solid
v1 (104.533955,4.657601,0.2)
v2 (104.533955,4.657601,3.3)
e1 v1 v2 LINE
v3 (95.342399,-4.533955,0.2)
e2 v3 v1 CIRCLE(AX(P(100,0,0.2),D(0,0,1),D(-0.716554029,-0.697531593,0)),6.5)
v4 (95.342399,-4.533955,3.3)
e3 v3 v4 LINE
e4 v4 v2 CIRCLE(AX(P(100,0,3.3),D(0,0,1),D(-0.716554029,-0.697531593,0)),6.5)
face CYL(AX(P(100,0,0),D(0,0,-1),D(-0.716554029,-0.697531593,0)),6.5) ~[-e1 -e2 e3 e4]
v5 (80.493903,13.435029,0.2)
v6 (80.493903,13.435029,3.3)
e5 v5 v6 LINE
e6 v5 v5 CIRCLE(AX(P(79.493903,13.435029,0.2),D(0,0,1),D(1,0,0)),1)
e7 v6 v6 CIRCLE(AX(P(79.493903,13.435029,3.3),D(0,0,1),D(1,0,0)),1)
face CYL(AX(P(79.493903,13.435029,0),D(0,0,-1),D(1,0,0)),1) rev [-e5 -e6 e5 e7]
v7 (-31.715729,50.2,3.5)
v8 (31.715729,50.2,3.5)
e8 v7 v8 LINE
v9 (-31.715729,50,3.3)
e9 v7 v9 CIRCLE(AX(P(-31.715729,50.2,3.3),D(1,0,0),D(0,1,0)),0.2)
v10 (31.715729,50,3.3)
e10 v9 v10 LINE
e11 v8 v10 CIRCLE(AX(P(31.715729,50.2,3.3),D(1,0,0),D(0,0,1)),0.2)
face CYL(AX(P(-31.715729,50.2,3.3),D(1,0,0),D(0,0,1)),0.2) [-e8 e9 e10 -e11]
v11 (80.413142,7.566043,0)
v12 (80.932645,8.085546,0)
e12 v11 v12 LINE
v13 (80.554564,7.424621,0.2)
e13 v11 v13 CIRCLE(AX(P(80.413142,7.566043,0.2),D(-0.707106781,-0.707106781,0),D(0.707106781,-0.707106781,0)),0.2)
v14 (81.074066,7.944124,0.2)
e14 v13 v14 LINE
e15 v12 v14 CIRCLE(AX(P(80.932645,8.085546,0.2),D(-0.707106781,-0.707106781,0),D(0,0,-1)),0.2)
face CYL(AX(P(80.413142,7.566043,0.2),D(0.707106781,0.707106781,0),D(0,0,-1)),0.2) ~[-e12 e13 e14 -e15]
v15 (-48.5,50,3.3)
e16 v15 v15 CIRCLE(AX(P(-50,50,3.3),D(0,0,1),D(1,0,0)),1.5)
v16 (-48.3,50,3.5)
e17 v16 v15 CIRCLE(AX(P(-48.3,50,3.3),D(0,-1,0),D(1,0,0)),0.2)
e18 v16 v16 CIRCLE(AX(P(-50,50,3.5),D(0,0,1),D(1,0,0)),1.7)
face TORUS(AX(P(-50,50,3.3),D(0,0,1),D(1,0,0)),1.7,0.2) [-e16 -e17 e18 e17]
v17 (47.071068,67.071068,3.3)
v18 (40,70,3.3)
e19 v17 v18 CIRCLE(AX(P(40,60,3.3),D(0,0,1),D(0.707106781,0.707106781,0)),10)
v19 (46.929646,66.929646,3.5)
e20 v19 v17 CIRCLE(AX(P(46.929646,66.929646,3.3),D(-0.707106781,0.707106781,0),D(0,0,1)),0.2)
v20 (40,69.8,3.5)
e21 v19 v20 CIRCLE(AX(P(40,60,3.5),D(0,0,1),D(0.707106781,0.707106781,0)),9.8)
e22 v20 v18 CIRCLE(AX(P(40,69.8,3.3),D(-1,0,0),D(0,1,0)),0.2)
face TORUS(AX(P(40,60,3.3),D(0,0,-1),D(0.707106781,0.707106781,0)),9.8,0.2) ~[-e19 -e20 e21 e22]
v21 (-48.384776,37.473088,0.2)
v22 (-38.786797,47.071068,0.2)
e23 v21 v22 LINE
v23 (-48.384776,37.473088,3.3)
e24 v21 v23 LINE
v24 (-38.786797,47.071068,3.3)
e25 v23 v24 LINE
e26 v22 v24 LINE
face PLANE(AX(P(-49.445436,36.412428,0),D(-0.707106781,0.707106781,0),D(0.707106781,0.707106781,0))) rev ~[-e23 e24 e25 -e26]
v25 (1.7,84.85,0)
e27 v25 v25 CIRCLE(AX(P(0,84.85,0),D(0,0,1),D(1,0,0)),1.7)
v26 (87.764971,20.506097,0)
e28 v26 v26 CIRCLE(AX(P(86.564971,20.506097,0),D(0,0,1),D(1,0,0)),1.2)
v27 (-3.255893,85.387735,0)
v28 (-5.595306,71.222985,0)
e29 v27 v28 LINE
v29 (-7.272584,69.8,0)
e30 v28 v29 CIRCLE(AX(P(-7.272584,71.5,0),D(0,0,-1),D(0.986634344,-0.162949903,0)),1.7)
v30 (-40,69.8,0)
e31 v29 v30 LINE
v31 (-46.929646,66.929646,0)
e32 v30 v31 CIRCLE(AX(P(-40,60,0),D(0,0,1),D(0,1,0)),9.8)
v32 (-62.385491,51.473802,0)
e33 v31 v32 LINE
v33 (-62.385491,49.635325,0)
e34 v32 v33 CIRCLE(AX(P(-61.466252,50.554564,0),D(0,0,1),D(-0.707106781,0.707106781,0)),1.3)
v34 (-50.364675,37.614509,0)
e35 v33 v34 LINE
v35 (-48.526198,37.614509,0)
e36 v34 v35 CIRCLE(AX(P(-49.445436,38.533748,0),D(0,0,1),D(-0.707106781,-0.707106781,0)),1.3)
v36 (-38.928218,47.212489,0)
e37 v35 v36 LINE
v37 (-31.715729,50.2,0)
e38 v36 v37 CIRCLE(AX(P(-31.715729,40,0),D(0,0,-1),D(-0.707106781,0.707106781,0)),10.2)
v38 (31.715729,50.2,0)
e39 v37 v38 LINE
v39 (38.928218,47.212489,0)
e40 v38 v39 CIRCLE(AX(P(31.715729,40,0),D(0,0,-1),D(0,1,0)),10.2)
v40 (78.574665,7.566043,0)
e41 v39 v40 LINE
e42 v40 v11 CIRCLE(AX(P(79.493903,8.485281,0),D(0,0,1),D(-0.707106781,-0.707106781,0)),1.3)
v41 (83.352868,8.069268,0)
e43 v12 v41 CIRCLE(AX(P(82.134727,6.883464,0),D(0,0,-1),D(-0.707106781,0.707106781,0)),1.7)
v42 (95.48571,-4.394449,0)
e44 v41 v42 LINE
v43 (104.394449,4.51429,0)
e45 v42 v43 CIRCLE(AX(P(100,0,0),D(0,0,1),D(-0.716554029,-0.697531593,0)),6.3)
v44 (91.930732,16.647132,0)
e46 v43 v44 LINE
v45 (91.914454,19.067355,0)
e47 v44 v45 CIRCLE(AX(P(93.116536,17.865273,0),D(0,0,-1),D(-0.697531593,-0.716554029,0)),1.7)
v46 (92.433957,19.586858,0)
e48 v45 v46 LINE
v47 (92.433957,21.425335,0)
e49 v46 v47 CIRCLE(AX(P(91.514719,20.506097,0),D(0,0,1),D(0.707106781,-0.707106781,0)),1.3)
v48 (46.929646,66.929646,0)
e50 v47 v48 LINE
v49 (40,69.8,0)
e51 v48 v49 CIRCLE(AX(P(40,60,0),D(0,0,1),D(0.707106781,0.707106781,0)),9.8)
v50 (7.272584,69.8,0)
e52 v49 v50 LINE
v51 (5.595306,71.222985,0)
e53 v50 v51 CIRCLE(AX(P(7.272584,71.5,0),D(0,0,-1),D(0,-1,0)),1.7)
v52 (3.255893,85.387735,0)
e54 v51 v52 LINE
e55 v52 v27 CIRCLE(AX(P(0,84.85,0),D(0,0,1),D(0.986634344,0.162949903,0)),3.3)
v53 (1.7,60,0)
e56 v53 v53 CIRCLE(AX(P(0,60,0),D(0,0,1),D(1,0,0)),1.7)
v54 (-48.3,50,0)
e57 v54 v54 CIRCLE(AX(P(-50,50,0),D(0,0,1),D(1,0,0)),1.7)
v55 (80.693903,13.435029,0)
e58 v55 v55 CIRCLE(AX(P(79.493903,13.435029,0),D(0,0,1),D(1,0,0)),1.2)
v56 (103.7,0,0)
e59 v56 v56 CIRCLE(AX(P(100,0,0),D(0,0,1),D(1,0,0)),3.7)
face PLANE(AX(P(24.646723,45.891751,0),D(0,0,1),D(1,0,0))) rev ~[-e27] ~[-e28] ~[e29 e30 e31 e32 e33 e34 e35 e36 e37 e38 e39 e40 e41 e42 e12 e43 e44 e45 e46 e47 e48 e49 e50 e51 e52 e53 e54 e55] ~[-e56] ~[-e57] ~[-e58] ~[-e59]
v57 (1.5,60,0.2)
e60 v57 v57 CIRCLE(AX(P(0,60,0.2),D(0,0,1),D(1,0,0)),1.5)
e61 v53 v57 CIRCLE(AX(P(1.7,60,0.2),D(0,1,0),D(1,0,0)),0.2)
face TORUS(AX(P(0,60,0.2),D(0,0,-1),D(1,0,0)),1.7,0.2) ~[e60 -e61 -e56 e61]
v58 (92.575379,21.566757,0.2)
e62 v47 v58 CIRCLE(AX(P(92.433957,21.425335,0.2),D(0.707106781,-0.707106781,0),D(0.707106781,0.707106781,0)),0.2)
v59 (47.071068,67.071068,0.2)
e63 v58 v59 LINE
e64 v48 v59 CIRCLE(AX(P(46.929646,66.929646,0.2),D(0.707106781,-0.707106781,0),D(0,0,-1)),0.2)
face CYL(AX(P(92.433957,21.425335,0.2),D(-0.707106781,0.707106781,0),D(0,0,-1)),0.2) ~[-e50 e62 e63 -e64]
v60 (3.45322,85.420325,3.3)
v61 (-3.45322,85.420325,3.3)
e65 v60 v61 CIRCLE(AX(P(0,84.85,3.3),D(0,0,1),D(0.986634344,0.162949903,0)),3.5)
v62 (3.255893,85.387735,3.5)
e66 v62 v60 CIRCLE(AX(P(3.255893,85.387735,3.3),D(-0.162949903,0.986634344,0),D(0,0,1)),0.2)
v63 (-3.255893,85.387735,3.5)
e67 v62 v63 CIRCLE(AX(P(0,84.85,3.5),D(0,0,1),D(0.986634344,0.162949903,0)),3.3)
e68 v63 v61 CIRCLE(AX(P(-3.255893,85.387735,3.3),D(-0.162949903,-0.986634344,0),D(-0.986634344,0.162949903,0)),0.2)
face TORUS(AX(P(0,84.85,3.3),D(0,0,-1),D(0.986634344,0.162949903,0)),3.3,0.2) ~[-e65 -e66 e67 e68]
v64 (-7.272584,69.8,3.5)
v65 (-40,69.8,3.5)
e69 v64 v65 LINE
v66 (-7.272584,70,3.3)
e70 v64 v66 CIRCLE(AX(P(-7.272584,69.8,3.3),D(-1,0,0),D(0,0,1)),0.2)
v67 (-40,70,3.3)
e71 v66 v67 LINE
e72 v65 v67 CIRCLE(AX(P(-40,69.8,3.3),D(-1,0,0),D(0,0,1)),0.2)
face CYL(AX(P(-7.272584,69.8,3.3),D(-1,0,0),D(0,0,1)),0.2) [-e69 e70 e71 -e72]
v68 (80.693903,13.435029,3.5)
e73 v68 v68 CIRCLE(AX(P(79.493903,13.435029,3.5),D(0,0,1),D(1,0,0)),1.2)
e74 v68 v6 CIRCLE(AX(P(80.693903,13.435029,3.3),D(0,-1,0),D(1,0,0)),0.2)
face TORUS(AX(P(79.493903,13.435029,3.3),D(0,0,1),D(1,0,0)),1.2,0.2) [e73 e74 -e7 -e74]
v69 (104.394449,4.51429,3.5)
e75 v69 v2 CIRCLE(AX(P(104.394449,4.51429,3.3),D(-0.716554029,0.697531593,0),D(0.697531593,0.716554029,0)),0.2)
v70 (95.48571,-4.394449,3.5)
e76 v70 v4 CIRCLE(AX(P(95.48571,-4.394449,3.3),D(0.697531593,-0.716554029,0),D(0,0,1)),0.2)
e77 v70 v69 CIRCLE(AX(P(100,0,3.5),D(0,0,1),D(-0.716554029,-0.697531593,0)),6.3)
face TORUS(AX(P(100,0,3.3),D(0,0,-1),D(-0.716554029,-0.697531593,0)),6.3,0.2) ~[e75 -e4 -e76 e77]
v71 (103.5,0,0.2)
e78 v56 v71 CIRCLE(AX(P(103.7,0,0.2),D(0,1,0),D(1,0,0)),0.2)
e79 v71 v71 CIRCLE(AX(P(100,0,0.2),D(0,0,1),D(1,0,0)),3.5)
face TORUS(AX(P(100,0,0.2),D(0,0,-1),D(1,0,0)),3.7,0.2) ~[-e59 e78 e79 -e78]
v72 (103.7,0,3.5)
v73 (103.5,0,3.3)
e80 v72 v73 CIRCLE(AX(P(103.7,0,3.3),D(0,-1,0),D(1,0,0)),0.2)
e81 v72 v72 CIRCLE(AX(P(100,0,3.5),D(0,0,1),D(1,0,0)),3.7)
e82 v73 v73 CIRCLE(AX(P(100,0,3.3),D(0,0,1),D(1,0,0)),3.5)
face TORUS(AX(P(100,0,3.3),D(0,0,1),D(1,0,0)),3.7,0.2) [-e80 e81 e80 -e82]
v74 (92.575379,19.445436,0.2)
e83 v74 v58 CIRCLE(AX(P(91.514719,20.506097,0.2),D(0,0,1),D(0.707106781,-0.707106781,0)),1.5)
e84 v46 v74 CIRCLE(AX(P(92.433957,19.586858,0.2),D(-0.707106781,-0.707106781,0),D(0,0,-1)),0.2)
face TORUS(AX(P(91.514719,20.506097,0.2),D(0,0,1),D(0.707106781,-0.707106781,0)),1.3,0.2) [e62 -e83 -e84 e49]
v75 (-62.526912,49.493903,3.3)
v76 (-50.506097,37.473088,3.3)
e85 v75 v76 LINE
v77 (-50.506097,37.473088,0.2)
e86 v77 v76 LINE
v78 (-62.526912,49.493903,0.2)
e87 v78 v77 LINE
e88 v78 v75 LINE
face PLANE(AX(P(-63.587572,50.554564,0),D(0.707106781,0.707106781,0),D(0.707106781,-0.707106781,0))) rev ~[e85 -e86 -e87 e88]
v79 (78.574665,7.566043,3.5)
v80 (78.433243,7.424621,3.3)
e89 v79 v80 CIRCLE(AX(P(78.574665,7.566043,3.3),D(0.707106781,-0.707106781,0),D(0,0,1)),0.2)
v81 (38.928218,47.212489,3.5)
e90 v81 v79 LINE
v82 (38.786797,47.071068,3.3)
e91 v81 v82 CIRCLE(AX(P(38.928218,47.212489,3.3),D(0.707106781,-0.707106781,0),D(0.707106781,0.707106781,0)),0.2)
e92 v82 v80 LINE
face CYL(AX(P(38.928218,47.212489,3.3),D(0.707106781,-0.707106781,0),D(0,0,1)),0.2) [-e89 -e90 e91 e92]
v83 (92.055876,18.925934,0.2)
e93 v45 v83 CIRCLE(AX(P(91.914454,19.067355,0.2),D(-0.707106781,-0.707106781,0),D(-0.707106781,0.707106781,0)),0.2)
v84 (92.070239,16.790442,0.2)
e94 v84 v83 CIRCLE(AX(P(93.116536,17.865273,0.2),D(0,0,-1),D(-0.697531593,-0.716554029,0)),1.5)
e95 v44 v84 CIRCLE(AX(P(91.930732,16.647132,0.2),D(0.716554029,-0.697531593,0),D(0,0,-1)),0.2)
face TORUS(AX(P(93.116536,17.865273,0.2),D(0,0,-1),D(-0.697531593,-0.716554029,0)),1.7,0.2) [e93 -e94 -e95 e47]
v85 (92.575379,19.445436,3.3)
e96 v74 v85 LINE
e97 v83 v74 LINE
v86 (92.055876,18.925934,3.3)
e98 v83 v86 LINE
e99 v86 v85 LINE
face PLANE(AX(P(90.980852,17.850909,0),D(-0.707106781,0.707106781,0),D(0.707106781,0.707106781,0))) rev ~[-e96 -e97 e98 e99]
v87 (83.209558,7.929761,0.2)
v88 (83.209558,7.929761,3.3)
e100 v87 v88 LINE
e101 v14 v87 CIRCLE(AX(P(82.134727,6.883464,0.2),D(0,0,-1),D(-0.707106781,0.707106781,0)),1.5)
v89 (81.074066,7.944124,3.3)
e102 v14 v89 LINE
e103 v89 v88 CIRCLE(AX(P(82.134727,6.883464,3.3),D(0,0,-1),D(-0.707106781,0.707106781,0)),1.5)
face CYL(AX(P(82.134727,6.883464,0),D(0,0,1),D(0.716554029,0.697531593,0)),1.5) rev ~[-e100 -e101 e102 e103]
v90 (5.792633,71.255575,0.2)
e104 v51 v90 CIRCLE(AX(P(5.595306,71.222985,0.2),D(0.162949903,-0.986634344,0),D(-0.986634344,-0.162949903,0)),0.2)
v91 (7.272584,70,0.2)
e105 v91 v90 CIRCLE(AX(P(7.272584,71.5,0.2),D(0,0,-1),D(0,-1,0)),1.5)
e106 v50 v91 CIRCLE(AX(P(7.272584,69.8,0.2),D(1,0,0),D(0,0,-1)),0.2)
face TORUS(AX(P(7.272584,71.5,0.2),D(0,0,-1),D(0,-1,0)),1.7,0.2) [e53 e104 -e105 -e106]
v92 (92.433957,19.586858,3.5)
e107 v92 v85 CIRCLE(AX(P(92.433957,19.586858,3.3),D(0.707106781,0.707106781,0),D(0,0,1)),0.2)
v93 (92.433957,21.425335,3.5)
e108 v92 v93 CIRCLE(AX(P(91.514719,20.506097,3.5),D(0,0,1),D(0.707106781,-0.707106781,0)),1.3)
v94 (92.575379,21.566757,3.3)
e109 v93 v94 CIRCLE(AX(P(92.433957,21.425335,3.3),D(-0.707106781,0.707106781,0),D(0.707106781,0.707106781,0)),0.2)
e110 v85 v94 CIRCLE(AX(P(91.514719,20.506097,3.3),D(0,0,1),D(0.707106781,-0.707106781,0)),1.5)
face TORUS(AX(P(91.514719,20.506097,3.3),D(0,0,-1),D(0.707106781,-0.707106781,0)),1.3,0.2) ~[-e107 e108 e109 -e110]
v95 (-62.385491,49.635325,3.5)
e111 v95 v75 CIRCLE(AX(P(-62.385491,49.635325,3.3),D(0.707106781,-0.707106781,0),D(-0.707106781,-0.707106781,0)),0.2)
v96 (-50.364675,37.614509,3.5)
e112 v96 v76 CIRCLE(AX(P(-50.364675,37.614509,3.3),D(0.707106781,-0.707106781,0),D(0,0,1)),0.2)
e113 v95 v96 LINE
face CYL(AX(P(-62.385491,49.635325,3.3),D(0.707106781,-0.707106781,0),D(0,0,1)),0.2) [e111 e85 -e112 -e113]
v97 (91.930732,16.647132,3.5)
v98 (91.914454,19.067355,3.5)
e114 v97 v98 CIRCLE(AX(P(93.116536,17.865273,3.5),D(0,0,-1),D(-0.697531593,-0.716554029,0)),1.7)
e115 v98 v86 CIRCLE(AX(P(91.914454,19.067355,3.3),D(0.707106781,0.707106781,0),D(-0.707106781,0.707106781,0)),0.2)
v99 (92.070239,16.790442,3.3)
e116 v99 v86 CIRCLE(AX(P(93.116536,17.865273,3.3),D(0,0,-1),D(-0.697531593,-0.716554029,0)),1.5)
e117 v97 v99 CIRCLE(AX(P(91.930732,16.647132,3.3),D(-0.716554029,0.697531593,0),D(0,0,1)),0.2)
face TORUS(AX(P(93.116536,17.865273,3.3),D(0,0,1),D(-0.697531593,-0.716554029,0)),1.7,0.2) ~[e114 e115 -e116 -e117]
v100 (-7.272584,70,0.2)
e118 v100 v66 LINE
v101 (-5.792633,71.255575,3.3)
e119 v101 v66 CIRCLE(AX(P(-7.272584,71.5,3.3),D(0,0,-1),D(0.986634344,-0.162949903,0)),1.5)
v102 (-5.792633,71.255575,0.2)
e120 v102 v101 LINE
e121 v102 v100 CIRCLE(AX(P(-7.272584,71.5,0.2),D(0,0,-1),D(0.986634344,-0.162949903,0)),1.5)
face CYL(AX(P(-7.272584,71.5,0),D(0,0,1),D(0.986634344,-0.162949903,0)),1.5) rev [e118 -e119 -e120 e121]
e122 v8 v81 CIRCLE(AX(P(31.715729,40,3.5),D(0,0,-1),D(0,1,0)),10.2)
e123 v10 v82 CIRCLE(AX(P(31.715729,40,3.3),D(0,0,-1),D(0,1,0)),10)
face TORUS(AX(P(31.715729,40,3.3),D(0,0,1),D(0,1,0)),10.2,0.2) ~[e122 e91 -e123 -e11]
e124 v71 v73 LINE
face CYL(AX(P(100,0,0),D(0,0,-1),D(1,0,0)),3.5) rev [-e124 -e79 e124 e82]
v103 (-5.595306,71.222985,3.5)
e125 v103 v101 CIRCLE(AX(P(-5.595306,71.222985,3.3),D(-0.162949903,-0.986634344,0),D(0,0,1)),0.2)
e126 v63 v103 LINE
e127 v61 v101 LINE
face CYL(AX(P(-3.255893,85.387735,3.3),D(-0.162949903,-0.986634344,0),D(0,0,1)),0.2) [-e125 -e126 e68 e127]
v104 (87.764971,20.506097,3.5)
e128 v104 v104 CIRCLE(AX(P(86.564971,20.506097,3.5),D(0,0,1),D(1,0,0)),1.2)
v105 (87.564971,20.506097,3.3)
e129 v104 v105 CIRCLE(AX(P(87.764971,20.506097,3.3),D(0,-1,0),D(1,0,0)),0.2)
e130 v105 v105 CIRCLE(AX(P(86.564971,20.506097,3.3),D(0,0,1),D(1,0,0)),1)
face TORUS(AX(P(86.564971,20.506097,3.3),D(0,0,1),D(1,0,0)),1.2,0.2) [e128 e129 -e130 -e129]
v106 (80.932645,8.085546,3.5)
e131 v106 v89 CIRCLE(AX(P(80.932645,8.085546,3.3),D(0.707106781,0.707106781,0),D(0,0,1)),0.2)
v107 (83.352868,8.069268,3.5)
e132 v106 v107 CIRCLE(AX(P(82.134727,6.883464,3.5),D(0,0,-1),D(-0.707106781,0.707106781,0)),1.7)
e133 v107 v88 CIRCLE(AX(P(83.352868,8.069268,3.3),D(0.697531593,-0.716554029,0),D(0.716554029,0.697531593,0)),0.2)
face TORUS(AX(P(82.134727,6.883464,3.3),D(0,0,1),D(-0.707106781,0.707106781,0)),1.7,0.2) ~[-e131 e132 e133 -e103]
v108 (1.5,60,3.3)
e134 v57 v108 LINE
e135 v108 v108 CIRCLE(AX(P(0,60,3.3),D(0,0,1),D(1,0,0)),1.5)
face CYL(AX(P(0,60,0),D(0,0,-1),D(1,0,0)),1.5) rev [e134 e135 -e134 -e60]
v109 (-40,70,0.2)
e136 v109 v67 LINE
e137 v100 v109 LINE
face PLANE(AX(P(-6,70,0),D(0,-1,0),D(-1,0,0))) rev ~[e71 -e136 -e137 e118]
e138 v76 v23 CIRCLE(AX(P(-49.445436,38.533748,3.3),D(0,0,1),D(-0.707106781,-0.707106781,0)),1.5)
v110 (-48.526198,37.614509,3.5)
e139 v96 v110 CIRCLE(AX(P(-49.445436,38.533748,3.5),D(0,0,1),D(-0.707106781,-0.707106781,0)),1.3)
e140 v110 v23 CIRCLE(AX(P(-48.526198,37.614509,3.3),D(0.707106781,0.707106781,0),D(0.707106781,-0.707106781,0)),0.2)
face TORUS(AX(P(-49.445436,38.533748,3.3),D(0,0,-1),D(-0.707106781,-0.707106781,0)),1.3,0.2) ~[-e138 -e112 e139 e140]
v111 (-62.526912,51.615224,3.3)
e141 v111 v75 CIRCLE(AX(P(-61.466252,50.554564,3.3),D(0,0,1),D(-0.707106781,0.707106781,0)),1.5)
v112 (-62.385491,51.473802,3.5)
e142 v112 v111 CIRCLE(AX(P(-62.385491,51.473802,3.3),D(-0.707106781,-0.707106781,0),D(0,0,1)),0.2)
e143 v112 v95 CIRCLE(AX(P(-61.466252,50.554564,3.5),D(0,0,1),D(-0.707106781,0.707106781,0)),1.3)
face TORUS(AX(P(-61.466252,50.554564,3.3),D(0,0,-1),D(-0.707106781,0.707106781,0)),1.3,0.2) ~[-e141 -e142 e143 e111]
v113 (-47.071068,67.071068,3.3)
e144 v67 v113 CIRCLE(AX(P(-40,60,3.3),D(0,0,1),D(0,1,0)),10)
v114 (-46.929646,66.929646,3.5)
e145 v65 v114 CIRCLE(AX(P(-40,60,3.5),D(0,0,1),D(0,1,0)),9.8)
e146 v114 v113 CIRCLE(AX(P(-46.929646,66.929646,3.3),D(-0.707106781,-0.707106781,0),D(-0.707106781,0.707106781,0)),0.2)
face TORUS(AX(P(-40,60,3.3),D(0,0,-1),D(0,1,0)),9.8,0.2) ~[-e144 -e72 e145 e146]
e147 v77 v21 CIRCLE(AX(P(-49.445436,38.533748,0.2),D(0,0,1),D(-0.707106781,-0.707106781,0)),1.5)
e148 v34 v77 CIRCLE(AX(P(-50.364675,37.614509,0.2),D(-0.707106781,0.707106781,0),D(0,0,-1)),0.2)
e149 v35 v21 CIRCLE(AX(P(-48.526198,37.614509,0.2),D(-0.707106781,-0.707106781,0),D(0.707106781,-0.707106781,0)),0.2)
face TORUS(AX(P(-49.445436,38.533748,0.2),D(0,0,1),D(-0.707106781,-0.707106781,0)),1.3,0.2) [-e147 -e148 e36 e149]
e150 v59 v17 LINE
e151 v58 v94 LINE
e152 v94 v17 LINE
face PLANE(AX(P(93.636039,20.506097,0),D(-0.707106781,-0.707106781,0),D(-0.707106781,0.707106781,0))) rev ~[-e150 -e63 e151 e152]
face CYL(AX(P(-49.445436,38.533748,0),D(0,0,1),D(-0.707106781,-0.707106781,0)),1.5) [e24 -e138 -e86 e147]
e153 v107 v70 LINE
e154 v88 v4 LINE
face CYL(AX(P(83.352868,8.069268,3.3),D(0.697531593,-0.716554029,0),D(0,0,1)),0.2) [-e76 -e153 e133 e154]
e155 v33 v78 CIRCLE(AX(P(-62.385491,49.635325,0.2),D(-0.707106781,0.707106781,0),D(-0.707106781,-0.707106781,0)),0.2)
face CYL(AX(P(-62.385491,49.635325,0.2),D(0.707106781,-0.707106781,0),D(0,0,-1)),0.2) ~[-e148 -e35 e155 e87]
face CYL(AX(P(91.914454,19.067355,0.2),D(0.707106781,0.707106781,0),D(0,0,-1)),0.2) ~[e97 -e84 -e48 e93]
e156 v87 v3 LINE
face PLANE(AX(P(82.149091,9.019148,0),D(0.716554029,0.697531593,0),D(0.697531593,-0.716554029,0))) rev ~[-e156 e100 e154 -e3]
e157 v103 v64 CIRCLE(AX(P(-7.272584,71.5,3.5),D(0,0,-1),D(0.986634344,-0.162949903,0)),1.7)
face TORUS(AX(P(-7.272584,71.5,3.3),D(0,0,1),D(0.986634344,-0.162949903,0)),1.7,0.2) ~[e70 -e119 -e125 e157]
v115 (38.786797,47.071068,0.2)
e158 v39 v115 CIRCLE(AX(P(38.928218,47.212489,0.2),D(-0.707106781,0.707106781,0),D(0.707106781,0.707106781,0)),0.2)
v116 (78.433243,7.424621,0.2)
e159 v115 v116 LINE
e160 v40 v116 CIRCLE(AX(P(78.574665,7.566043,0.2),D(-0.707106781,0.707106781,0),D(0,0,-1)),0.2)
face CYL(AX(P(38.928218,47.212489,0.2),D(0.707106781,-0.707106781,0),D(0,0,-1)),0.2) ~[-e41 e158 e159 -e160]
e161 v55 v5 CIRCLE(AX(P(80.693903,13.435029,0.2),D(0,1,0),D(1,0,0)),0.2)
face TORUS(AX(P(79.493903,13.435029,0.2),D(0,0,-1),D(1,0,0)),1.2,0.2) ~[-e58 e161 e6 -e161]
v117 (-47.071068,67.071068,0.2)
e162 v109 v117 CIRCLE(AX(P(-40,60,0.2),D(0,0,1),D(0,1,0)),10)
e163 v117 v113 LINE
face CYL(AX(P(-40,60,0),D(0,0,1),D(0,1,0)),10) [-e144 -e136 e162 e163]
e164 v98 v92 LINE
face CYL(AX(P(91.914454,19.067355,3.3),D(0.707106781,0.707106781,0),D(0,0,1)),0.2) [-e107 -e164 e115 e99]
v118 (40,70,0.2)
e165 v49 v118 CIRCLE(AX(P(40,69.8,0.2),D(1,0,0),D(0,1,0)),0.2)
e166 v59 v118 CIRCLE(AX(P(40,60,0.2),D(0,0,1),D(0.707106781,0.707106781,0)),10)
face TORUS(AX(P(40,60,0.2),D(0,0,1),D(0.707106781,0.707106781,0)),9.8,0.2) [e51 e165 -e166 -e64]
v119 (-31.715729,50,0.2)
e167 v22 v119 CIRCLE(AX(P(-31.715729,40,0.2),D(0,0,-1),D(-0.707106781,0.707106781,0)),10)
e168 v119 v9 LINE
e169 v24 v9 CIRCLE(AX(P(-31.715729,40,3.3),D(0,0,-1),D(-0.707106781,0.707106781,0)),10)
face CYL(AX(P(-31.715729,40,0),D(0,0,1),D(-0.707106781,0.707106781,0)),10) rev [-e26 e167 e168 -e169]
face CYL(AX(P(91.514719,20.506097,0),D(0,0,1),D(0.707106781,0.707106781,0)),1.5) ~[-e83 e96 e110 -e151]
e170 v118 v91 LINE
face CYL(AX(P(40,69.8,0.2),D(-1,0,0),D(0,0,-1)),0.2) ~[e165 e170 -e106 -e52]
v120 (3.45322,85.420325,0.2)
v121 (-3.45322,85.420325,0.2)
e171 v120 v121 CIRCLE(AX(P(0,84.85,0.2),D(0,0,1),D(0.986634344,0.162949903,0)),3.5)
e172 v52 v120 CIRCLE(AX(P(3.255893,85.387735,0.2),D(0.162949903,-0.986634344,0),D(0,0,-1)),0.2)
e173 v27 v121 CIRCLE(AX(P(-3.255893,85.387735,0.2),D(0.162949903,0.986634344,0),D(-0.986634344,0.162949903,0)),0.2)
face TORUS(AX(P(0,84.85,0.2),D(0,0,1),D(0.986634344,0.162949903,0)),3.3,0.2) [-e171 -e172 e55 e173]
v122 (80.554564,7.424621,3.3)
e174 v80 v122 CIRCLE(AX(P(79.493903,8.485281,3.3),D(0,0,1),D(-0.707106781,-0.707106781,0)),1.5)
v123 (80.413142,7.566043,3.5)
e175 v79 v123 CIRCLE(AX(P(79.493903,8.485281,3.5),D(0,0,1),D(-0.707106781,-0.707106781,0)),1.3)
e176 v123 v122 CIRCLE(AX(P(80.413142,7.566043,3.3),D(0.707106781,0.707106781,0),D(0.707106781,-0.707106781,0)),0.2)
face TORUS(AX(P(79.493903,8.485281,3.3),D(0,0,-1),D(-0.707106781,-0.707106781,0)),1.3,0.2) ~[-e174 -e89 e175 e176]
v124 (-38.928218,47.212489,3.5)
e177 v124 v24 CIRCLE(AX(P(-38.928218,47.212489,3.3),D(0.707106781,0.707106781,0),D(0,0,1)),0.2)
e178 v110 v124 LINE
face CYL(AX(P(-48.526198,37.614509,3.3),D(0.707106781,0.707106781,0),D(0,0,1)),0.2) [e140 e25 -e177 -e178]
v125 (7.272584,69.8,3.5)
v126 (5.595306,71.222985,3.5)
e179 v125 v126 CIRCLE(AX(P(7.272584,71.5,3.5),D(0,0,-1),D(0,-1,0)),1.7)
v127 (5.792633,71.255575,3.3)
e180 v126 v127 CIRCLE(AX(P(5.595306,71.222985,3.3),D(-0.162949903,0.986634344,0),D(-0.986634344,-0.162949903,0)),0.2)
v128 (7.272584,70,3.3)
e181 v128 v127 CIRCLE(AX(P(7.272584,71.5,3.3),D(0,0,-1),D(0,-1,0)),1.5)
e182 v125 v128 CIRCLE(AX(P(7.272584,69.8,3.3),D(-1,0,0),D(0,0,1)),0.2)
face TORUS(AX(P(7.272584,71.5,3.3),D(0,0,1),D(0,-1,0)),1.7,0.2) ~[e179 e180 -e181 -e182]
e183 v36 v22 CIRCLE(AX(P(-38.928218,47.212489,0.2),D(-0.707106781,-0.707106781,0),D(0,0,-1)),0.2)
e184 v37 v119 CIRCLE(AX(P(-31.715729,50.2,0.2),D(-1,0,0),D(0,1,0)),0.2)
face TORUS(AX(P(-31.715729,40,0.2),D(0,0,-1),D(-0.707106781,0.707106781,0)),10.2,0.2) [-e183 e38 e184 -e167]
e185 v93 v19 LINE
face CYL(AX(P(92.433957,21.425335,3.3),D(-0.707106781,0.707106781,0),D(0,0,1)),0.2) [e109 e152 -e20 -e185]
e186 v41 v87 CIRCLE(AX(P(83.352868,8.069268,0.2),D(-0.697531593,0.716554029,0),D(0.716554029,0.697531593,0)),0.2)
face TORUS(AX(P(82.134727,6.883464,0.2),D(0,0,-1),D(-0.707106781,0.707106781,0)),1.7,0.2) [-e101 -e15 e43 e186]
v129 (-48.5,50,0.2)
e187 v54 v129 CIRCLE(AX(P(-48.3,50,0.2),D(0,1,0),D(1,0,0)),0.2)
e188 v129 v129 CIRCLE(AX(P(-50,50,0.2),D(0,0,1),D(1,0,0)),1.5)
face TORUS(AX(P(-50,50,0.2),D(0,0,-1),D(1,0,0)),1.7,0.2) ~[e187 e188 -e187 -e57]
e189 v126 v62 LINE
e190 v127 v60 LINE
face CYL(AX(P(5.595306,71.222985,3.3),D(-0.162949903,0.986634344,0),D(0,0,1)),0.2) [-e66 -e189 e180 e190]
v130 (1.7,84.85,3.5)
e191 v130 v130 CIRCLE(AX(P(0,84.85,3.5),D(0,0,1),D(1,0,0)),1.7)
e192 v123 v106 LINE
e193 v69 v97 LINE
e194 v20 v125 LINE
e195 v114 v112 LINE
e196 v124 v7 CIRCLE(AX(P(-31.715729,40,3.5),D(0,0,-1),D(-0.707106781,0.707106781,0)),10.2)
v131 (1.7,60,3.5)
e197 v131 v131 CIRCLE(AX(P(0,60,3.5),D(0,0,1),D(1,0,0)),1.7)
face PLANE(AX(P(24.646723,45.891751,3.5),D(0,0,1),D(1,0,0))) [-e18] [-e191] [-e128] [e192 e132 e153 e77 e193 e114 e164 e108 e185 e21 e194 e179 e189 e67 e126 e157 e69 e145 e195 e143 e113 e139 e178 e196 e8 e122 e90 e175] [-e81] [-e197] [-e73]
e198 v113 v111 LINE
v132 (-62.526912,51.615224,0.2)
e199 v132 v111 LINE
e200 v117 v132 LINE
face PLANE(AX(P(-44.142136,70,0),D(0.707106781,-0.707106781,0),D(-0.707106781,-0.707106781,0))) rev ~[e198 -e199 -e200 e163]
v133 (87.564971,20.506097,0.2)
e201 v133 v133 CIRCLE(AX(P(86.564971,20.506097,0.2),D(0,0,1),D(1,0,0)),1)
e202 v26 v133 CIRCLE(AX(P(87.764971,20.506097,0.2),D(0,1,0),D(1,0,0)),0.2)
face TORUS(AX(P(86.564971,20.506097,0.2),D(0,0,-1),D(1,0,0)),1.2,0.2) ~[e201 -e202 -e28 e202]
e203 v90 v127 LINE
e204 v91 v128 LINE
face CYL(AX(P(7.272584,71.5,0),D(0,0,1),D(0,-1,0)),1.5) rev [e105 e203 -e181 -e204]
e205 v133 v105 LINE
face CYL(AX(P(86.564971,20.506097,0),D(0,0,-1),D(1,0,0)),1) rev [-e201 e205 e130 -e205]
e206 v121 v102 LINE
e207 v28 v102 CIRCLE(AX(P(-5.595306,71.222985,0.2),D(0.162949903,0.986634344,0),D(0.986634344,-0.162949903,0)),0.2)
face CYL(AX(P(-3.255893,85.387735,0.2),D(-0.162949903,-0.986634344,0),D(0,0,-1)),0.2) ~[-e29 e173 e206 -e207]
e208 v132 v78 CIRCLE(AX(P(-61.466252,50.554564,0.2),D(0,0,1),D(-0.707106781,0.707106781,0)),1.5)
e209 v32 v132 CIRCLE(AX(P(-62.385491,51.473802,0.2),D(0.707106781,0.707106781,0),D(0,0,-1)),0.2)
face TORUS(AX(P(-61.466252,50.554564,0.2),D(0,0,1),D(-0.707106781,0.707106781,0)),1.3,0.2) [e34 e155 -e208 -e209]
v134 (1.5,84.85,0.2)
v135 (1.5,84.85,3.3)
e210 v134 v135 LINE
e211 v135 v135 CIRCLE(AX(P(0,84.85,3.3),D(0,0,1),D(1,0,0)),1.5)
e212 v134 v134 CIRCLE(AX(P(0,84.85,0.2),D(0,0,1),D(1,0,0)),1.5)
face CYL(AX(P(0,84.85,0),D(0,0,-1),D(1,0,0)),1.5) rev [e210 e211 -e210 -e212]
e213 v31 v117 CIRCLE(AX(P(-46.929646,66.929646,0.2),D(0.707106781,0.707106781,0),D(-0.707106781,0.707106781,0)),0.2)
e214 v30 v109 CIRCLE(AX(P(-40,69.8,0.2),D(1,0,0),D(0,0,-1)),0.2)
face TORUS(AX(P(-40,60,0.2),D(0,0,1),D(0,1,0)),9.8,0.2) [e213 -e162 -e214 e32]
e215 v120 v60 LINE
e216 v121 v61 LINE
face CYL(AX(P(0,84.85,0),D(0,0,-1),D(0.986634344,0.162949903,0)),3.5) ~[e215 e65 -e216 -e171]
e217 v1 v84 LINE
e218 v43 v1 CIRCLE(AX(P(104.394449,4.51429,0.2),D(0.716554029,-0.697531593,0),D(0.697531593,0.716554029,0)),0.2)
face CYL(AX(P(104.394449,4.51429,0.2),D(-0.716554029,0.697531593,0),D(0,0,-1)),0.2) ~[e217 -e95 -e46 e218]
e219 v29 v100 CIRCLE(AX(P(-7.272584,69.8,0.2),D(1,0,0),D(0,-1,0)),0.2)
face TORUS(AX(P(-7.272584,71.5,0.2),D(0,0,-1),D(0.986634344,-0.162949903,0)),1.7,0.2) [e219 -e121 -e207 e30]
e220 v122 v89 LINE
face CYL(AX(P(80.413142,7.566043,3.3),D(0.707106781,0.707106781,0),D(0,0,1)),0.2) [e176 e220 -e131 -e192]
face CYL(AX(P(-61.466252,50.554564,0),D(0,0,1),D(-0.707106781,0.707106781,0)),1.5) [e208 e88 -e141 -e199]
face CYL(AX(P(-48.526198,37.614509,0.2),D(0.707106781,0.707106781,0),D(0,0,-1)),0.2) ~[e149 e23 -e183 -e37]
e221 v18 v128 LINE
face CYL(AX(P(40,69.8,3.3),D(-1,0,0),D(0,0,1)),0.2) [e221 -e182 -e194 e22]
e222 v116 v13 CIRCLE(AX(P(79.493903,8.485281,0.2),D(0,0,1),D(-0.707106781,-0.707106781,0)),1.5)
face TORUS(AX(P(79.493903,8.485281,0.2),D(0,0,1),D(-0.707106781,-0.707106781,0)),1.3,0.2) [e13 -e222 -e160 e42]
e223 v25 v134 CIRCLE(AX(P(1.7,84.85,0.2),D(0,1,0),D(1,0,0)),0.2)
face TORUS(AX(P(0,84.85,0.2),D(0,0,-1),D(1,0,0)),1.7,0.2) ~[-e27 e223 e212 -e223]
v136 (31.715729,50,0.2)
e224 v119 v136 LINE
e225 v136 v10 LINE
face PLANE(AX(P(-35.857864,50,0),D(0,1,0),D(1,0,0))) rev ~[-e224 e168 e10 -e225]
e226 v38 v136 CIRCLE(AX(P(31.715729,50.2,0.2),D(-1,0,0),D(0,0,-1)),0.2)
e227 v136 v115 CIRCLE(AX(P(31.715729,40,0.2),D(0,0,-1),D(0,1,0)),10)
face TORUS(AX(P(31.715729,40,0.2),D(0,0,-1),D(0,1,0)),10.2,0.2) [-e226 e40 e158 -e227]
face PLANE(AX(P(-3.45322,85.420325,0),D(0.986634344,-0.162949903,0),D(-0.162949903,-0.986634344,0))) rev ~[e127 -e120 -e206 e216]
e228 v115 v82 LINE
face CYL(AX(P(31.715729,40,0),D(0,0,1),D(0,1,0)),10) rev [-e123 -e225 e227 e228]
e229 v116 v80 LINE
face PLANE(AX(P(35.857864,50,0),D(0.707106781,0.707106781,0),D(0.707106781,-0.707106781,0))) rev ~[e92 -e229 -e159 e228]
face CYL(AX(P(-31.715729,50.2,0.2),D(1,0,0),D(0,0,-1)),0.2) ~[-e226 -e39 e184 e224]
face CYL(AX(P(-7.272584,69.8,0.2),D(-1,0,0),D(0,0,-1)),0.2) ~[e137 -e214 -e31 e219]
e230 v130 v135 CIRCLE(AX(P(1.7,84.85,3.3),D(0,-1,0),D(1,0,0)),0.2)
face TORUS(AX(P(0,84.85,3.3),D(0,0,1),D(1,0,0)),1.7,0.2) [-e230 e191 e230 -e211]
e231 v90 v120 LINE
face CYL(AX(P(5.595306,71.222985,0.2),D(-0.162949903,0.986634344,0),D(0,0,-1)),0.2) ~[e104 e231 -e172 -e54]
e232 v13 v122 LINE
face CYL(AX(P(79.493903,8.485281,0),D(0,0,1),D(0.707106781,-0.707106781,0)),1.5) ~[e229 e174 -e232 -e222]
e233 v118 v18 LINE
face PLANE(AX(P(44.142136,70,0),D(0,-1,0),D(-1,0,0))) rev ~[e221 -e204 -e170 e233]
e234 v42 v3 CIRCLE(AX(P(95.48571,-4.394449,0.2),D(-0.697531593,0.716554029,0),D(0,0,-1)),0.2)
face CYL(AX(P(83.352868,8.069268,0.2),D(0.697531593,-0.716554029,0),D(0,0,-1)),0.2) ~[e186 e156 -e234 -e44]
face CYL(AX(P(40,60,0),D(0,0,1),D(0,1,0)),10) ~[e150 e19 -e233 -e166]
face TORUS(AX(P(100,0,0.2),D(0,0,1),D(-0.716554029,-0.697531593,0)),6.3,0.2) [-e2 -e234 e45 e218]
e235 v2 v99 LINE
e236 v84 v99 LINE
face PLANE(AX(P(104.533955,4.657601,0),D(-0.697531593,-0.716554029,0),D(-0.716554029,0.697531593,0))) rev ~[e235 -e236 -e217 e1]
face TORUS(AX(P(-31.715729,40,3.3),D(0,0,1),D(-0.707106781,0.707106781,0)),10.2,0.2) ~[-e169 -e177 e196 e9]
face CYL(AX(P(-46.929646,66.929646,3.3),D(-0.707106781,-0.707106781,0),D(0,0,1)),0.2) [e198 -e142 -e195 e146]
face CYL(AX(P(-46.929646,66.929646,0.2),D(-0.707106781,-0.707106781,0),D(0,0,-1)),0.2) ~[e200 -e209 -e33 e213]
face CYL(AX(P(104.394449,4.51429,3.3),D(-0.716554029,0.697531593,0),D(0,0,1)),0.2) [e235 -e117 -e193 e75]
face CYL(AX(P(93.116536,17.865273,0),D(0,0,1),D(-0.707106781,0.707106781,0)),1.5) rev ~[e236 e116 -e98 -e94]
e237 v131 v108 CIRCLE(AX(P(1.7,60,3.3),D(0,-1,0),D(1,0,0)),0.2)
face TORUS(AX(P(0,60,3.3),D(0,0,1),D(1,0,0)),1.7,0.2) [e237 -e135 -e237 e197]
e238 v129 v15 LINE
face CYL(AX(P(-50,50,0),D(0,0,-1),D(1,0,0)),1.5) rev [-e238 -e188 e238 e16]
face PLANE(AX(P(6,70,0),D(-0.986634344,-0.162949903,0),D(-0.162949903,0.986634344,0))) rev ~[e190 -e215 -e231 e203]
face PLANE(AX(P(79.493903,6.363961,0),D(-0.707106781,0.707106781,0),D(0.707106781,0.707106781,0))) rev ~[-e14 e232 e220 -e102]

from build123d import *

# Parameters (mm, degrees)
SKETCH6_R           = 3.5
SKETCH6_R_2         = 1.5
SKETCH6_R_3         = 1
BOSS_EXTRUDE1_DEPTH = 3.5
FILLET1_R           = 10
FILLET2_R           = 1.5
FILLET3_R           = 0.2


with BuildPart() as part:
    # Sketch6 → Boss-Extrude1 (new body)
    with BuildSketch(Plane.XY):
        with BuildLine():
            Line((6, 70), (3.453220204, 85.420324662))
            ThreePointArc((3.453220204, 85.420324662), (0, 88.35), (-3.453220204, 85.420324662))
            Line((-3.453220204, 85.420324662), (-6, 70))
            Line((-6, 70), (-44.142135624, 70))
            Line((-44.142135624, 70), (-63.587572106, 50.554563517))
            Line((-63.587572106, 50.554563517), (-49.445436483, 36.412427894))
            Line((-49.445436483, 36.412427894), (-35.857864376, 50))
            Line((-35.857864376, 50), (35.857864376, 50))
            Line((35.857864376, 50), (79.493903346, 6.363961031))
            Line((79.493903346, 6.363961031), (82.149090724, 9.019148409))
            Line((82.149090724, 9.019148409), (95.342398812, -4.533955357))
            ThreePointArc((95.342398812, -4.533955357), (104.596194078, -4.596194078), (104.533955357, 4.657601188))
            Line((104.533955357, 4.657601188), (90.980851591, 17.850909276))
            Line((90.980851591, 17.850909276), (93.636038969, 20.506096654))
            Line((93.636038969, 20.506096654), (44.142135624, 70))
            Line((44.142135624, 70), (6, 70))
        make_face()
        with Locations((100, 0)):
            Circle(SKETCH6_R, mode=Mode.SUBTRACT)
        with Locations((0, 84.85)):
            Circle(SKETCH6_R_2, mode=Mode.SUBTRACT)
        with Locations((0, 60)):
            Circle(SKETCH6_R_2, mode=Mode.SUBTRACT)
        with Locations((86.564971157, 20.506096654)):
            Circle(SKETCH6_R_3, mode=Mode.SUBTRACT)
        with Locations((79.493903346, 13.435028843)):
            Circle(SKETCH6_R_3, mode=Mode.SUBTRACT)
        with Locations((-50, 50)):
            Circle(SKETCH6_R_2, mode=Mode.SUBTRACT)
    extrude(amount=BOSS_EXTRUDE1_DEPTH)

    # Fillet1
    fillet1_edges = [part.edges().sort_by_distance(p)[0] for p in [
        (44.142135624, 70, 1.75),
        (35.857864376, 50, 1.75),
        (-35.857864376, 50, 1.75),
        (-44.142135624, 70, 1.75),
    ]]
    fillet(fillet1_edges, radius=FILLET1_R)

    # Fillet2
    fillet2_edges = [part.edges().sort_by_distance(p)[0] for p in [
        (6, 70, 1.75),
        (93.636038969, 20.506096654, 1.75),
        (90.980851591, 17.850909276, 1.75),
        (82.149090724, 9.019148409, 1.75),
        (79.493903346, 6.363961031, 1.75),
        (-49.445436483, 36.412427894, 1.75),
        (-63.587572106, 50.554563517, 1.75),
        (-6, 70, 1.75),
    ]]
    fillet(fillet2_edges, radius=FILLET2_R)

    # Fillet3
    fillet3_edges = [part.edges().sort_by_distance(p)[0] for p in [
        (-23.636292033, 70, 3.5),
        (80.814314994, 7.684372679, 3.5),
        (89.275978249, 1.697903009, 3.5),
        (98.302096991, 10.724021751, 3.5),
        (92.315627321, 19.185685006, 3.5),
        (69.823223305, 44.318912319, 3.5),
        (4.622926377, 78.337949903, 3.5),
        (-4.622926377, 78.337949903, 3.5),
        (93.014718626, 20.506096654, 3.5),
        (79.493903346, 6.985281374, 3.5),
        (-62.966251763, 50.554563517, 3.5),
        (-49.445436483, 37.033748237, 3.5),
        (-6.302181387, 70.356182427, 0),
        (-6.302181387, 70.356182427, 3.5),
        (6.302181387, 70.356182427, 0),
        (6.302181387, 70.356182427, 3.5),
        (91.616569941, 17.855184959, 0),
        (91.616569941, 17.855184959, 3.5),
        (82.144815041, 8.383430059, 0),
        (82.144815041, 8.383430059, 3.5),
        (96.5, 0, 3.5),
        (-1.5, 84.85, 3.5),
        (-1.5, 60, 3.5),
        (85.564971157, 20.506096654, 3.5),
        (104.596194078, -4.596194078, 0),
        (78.493903346, 13.435028843, 3.5),
        (0, 88.35, 0),
        (-51.5, 50, 0),
        (78.493903346, 13.435028843, 0),
        (85.564971157, 20.506096654, 0),
        (-1.5, 60, 0),
        (-1.5, 84.85, 0),
        (96.5, 0, 0),
        (-51.5, 50, 3.5),
        (0, 88.35, 3.5),
        (58.610019869, 27.247844507, 0),
        (58.610019869, 27.247844507, 3.5),
        (0, 50, 0),
        (0, 50, 3.5),
        (-54.798989873, 59.343145751, 0),
        (-54.798989873, 59.343145751, 3.5),
        (23.636292033, 70, 0),
        (43.826834324, 69.238795325, 0),
        (-43.826834324, 69.238795325, 0),
        (23.636292033, 70, 3.5),
        (43.826834324, 69.238795325, 3.5),
        (-43.826834324, 69.238795325, 3.5),
        (35.542563076, 49.238795325, 0),
        (35.542563076, 49.238795325, 3.5),
        (-35.542563076, 49.238795325, 0),
        (-35.542563076, 49.238795325, 3.5),
        (-43.585786438, 42.272077939, 0),
        (-43.585786438, 42.272077939, 3.5),
        (-23.636292033, 70, 0),
        (-4.622926377, 78.337949903, 0),
        (4.622926377, 78.337949903, 0),
        (69.823223305, 44.318912319, 0),
        (92.315627321, 19.185685006, 0),
        (98.302096991, 10.724021751, 0),
        (89.275978249, 1.697903009, 0),
        (80.814314994, 7.684372679, 0),
        (-56.516504294, 43.483495706, 0),
        (93.014718626, 20.506096654, 0),
        (104.596194078, -4.596194078, 3.5),
        (79.493903346, 6.985281374, 0),
        (-62.966251763, 50.554563517, 0),
        (-49.445436483, 37.033748237, 0),
        (-56.516504294, 43.483495706, 3.5),
    ]]
    fillet(fillet3_edges, radius=FILLET3_R)


solid = part.part
